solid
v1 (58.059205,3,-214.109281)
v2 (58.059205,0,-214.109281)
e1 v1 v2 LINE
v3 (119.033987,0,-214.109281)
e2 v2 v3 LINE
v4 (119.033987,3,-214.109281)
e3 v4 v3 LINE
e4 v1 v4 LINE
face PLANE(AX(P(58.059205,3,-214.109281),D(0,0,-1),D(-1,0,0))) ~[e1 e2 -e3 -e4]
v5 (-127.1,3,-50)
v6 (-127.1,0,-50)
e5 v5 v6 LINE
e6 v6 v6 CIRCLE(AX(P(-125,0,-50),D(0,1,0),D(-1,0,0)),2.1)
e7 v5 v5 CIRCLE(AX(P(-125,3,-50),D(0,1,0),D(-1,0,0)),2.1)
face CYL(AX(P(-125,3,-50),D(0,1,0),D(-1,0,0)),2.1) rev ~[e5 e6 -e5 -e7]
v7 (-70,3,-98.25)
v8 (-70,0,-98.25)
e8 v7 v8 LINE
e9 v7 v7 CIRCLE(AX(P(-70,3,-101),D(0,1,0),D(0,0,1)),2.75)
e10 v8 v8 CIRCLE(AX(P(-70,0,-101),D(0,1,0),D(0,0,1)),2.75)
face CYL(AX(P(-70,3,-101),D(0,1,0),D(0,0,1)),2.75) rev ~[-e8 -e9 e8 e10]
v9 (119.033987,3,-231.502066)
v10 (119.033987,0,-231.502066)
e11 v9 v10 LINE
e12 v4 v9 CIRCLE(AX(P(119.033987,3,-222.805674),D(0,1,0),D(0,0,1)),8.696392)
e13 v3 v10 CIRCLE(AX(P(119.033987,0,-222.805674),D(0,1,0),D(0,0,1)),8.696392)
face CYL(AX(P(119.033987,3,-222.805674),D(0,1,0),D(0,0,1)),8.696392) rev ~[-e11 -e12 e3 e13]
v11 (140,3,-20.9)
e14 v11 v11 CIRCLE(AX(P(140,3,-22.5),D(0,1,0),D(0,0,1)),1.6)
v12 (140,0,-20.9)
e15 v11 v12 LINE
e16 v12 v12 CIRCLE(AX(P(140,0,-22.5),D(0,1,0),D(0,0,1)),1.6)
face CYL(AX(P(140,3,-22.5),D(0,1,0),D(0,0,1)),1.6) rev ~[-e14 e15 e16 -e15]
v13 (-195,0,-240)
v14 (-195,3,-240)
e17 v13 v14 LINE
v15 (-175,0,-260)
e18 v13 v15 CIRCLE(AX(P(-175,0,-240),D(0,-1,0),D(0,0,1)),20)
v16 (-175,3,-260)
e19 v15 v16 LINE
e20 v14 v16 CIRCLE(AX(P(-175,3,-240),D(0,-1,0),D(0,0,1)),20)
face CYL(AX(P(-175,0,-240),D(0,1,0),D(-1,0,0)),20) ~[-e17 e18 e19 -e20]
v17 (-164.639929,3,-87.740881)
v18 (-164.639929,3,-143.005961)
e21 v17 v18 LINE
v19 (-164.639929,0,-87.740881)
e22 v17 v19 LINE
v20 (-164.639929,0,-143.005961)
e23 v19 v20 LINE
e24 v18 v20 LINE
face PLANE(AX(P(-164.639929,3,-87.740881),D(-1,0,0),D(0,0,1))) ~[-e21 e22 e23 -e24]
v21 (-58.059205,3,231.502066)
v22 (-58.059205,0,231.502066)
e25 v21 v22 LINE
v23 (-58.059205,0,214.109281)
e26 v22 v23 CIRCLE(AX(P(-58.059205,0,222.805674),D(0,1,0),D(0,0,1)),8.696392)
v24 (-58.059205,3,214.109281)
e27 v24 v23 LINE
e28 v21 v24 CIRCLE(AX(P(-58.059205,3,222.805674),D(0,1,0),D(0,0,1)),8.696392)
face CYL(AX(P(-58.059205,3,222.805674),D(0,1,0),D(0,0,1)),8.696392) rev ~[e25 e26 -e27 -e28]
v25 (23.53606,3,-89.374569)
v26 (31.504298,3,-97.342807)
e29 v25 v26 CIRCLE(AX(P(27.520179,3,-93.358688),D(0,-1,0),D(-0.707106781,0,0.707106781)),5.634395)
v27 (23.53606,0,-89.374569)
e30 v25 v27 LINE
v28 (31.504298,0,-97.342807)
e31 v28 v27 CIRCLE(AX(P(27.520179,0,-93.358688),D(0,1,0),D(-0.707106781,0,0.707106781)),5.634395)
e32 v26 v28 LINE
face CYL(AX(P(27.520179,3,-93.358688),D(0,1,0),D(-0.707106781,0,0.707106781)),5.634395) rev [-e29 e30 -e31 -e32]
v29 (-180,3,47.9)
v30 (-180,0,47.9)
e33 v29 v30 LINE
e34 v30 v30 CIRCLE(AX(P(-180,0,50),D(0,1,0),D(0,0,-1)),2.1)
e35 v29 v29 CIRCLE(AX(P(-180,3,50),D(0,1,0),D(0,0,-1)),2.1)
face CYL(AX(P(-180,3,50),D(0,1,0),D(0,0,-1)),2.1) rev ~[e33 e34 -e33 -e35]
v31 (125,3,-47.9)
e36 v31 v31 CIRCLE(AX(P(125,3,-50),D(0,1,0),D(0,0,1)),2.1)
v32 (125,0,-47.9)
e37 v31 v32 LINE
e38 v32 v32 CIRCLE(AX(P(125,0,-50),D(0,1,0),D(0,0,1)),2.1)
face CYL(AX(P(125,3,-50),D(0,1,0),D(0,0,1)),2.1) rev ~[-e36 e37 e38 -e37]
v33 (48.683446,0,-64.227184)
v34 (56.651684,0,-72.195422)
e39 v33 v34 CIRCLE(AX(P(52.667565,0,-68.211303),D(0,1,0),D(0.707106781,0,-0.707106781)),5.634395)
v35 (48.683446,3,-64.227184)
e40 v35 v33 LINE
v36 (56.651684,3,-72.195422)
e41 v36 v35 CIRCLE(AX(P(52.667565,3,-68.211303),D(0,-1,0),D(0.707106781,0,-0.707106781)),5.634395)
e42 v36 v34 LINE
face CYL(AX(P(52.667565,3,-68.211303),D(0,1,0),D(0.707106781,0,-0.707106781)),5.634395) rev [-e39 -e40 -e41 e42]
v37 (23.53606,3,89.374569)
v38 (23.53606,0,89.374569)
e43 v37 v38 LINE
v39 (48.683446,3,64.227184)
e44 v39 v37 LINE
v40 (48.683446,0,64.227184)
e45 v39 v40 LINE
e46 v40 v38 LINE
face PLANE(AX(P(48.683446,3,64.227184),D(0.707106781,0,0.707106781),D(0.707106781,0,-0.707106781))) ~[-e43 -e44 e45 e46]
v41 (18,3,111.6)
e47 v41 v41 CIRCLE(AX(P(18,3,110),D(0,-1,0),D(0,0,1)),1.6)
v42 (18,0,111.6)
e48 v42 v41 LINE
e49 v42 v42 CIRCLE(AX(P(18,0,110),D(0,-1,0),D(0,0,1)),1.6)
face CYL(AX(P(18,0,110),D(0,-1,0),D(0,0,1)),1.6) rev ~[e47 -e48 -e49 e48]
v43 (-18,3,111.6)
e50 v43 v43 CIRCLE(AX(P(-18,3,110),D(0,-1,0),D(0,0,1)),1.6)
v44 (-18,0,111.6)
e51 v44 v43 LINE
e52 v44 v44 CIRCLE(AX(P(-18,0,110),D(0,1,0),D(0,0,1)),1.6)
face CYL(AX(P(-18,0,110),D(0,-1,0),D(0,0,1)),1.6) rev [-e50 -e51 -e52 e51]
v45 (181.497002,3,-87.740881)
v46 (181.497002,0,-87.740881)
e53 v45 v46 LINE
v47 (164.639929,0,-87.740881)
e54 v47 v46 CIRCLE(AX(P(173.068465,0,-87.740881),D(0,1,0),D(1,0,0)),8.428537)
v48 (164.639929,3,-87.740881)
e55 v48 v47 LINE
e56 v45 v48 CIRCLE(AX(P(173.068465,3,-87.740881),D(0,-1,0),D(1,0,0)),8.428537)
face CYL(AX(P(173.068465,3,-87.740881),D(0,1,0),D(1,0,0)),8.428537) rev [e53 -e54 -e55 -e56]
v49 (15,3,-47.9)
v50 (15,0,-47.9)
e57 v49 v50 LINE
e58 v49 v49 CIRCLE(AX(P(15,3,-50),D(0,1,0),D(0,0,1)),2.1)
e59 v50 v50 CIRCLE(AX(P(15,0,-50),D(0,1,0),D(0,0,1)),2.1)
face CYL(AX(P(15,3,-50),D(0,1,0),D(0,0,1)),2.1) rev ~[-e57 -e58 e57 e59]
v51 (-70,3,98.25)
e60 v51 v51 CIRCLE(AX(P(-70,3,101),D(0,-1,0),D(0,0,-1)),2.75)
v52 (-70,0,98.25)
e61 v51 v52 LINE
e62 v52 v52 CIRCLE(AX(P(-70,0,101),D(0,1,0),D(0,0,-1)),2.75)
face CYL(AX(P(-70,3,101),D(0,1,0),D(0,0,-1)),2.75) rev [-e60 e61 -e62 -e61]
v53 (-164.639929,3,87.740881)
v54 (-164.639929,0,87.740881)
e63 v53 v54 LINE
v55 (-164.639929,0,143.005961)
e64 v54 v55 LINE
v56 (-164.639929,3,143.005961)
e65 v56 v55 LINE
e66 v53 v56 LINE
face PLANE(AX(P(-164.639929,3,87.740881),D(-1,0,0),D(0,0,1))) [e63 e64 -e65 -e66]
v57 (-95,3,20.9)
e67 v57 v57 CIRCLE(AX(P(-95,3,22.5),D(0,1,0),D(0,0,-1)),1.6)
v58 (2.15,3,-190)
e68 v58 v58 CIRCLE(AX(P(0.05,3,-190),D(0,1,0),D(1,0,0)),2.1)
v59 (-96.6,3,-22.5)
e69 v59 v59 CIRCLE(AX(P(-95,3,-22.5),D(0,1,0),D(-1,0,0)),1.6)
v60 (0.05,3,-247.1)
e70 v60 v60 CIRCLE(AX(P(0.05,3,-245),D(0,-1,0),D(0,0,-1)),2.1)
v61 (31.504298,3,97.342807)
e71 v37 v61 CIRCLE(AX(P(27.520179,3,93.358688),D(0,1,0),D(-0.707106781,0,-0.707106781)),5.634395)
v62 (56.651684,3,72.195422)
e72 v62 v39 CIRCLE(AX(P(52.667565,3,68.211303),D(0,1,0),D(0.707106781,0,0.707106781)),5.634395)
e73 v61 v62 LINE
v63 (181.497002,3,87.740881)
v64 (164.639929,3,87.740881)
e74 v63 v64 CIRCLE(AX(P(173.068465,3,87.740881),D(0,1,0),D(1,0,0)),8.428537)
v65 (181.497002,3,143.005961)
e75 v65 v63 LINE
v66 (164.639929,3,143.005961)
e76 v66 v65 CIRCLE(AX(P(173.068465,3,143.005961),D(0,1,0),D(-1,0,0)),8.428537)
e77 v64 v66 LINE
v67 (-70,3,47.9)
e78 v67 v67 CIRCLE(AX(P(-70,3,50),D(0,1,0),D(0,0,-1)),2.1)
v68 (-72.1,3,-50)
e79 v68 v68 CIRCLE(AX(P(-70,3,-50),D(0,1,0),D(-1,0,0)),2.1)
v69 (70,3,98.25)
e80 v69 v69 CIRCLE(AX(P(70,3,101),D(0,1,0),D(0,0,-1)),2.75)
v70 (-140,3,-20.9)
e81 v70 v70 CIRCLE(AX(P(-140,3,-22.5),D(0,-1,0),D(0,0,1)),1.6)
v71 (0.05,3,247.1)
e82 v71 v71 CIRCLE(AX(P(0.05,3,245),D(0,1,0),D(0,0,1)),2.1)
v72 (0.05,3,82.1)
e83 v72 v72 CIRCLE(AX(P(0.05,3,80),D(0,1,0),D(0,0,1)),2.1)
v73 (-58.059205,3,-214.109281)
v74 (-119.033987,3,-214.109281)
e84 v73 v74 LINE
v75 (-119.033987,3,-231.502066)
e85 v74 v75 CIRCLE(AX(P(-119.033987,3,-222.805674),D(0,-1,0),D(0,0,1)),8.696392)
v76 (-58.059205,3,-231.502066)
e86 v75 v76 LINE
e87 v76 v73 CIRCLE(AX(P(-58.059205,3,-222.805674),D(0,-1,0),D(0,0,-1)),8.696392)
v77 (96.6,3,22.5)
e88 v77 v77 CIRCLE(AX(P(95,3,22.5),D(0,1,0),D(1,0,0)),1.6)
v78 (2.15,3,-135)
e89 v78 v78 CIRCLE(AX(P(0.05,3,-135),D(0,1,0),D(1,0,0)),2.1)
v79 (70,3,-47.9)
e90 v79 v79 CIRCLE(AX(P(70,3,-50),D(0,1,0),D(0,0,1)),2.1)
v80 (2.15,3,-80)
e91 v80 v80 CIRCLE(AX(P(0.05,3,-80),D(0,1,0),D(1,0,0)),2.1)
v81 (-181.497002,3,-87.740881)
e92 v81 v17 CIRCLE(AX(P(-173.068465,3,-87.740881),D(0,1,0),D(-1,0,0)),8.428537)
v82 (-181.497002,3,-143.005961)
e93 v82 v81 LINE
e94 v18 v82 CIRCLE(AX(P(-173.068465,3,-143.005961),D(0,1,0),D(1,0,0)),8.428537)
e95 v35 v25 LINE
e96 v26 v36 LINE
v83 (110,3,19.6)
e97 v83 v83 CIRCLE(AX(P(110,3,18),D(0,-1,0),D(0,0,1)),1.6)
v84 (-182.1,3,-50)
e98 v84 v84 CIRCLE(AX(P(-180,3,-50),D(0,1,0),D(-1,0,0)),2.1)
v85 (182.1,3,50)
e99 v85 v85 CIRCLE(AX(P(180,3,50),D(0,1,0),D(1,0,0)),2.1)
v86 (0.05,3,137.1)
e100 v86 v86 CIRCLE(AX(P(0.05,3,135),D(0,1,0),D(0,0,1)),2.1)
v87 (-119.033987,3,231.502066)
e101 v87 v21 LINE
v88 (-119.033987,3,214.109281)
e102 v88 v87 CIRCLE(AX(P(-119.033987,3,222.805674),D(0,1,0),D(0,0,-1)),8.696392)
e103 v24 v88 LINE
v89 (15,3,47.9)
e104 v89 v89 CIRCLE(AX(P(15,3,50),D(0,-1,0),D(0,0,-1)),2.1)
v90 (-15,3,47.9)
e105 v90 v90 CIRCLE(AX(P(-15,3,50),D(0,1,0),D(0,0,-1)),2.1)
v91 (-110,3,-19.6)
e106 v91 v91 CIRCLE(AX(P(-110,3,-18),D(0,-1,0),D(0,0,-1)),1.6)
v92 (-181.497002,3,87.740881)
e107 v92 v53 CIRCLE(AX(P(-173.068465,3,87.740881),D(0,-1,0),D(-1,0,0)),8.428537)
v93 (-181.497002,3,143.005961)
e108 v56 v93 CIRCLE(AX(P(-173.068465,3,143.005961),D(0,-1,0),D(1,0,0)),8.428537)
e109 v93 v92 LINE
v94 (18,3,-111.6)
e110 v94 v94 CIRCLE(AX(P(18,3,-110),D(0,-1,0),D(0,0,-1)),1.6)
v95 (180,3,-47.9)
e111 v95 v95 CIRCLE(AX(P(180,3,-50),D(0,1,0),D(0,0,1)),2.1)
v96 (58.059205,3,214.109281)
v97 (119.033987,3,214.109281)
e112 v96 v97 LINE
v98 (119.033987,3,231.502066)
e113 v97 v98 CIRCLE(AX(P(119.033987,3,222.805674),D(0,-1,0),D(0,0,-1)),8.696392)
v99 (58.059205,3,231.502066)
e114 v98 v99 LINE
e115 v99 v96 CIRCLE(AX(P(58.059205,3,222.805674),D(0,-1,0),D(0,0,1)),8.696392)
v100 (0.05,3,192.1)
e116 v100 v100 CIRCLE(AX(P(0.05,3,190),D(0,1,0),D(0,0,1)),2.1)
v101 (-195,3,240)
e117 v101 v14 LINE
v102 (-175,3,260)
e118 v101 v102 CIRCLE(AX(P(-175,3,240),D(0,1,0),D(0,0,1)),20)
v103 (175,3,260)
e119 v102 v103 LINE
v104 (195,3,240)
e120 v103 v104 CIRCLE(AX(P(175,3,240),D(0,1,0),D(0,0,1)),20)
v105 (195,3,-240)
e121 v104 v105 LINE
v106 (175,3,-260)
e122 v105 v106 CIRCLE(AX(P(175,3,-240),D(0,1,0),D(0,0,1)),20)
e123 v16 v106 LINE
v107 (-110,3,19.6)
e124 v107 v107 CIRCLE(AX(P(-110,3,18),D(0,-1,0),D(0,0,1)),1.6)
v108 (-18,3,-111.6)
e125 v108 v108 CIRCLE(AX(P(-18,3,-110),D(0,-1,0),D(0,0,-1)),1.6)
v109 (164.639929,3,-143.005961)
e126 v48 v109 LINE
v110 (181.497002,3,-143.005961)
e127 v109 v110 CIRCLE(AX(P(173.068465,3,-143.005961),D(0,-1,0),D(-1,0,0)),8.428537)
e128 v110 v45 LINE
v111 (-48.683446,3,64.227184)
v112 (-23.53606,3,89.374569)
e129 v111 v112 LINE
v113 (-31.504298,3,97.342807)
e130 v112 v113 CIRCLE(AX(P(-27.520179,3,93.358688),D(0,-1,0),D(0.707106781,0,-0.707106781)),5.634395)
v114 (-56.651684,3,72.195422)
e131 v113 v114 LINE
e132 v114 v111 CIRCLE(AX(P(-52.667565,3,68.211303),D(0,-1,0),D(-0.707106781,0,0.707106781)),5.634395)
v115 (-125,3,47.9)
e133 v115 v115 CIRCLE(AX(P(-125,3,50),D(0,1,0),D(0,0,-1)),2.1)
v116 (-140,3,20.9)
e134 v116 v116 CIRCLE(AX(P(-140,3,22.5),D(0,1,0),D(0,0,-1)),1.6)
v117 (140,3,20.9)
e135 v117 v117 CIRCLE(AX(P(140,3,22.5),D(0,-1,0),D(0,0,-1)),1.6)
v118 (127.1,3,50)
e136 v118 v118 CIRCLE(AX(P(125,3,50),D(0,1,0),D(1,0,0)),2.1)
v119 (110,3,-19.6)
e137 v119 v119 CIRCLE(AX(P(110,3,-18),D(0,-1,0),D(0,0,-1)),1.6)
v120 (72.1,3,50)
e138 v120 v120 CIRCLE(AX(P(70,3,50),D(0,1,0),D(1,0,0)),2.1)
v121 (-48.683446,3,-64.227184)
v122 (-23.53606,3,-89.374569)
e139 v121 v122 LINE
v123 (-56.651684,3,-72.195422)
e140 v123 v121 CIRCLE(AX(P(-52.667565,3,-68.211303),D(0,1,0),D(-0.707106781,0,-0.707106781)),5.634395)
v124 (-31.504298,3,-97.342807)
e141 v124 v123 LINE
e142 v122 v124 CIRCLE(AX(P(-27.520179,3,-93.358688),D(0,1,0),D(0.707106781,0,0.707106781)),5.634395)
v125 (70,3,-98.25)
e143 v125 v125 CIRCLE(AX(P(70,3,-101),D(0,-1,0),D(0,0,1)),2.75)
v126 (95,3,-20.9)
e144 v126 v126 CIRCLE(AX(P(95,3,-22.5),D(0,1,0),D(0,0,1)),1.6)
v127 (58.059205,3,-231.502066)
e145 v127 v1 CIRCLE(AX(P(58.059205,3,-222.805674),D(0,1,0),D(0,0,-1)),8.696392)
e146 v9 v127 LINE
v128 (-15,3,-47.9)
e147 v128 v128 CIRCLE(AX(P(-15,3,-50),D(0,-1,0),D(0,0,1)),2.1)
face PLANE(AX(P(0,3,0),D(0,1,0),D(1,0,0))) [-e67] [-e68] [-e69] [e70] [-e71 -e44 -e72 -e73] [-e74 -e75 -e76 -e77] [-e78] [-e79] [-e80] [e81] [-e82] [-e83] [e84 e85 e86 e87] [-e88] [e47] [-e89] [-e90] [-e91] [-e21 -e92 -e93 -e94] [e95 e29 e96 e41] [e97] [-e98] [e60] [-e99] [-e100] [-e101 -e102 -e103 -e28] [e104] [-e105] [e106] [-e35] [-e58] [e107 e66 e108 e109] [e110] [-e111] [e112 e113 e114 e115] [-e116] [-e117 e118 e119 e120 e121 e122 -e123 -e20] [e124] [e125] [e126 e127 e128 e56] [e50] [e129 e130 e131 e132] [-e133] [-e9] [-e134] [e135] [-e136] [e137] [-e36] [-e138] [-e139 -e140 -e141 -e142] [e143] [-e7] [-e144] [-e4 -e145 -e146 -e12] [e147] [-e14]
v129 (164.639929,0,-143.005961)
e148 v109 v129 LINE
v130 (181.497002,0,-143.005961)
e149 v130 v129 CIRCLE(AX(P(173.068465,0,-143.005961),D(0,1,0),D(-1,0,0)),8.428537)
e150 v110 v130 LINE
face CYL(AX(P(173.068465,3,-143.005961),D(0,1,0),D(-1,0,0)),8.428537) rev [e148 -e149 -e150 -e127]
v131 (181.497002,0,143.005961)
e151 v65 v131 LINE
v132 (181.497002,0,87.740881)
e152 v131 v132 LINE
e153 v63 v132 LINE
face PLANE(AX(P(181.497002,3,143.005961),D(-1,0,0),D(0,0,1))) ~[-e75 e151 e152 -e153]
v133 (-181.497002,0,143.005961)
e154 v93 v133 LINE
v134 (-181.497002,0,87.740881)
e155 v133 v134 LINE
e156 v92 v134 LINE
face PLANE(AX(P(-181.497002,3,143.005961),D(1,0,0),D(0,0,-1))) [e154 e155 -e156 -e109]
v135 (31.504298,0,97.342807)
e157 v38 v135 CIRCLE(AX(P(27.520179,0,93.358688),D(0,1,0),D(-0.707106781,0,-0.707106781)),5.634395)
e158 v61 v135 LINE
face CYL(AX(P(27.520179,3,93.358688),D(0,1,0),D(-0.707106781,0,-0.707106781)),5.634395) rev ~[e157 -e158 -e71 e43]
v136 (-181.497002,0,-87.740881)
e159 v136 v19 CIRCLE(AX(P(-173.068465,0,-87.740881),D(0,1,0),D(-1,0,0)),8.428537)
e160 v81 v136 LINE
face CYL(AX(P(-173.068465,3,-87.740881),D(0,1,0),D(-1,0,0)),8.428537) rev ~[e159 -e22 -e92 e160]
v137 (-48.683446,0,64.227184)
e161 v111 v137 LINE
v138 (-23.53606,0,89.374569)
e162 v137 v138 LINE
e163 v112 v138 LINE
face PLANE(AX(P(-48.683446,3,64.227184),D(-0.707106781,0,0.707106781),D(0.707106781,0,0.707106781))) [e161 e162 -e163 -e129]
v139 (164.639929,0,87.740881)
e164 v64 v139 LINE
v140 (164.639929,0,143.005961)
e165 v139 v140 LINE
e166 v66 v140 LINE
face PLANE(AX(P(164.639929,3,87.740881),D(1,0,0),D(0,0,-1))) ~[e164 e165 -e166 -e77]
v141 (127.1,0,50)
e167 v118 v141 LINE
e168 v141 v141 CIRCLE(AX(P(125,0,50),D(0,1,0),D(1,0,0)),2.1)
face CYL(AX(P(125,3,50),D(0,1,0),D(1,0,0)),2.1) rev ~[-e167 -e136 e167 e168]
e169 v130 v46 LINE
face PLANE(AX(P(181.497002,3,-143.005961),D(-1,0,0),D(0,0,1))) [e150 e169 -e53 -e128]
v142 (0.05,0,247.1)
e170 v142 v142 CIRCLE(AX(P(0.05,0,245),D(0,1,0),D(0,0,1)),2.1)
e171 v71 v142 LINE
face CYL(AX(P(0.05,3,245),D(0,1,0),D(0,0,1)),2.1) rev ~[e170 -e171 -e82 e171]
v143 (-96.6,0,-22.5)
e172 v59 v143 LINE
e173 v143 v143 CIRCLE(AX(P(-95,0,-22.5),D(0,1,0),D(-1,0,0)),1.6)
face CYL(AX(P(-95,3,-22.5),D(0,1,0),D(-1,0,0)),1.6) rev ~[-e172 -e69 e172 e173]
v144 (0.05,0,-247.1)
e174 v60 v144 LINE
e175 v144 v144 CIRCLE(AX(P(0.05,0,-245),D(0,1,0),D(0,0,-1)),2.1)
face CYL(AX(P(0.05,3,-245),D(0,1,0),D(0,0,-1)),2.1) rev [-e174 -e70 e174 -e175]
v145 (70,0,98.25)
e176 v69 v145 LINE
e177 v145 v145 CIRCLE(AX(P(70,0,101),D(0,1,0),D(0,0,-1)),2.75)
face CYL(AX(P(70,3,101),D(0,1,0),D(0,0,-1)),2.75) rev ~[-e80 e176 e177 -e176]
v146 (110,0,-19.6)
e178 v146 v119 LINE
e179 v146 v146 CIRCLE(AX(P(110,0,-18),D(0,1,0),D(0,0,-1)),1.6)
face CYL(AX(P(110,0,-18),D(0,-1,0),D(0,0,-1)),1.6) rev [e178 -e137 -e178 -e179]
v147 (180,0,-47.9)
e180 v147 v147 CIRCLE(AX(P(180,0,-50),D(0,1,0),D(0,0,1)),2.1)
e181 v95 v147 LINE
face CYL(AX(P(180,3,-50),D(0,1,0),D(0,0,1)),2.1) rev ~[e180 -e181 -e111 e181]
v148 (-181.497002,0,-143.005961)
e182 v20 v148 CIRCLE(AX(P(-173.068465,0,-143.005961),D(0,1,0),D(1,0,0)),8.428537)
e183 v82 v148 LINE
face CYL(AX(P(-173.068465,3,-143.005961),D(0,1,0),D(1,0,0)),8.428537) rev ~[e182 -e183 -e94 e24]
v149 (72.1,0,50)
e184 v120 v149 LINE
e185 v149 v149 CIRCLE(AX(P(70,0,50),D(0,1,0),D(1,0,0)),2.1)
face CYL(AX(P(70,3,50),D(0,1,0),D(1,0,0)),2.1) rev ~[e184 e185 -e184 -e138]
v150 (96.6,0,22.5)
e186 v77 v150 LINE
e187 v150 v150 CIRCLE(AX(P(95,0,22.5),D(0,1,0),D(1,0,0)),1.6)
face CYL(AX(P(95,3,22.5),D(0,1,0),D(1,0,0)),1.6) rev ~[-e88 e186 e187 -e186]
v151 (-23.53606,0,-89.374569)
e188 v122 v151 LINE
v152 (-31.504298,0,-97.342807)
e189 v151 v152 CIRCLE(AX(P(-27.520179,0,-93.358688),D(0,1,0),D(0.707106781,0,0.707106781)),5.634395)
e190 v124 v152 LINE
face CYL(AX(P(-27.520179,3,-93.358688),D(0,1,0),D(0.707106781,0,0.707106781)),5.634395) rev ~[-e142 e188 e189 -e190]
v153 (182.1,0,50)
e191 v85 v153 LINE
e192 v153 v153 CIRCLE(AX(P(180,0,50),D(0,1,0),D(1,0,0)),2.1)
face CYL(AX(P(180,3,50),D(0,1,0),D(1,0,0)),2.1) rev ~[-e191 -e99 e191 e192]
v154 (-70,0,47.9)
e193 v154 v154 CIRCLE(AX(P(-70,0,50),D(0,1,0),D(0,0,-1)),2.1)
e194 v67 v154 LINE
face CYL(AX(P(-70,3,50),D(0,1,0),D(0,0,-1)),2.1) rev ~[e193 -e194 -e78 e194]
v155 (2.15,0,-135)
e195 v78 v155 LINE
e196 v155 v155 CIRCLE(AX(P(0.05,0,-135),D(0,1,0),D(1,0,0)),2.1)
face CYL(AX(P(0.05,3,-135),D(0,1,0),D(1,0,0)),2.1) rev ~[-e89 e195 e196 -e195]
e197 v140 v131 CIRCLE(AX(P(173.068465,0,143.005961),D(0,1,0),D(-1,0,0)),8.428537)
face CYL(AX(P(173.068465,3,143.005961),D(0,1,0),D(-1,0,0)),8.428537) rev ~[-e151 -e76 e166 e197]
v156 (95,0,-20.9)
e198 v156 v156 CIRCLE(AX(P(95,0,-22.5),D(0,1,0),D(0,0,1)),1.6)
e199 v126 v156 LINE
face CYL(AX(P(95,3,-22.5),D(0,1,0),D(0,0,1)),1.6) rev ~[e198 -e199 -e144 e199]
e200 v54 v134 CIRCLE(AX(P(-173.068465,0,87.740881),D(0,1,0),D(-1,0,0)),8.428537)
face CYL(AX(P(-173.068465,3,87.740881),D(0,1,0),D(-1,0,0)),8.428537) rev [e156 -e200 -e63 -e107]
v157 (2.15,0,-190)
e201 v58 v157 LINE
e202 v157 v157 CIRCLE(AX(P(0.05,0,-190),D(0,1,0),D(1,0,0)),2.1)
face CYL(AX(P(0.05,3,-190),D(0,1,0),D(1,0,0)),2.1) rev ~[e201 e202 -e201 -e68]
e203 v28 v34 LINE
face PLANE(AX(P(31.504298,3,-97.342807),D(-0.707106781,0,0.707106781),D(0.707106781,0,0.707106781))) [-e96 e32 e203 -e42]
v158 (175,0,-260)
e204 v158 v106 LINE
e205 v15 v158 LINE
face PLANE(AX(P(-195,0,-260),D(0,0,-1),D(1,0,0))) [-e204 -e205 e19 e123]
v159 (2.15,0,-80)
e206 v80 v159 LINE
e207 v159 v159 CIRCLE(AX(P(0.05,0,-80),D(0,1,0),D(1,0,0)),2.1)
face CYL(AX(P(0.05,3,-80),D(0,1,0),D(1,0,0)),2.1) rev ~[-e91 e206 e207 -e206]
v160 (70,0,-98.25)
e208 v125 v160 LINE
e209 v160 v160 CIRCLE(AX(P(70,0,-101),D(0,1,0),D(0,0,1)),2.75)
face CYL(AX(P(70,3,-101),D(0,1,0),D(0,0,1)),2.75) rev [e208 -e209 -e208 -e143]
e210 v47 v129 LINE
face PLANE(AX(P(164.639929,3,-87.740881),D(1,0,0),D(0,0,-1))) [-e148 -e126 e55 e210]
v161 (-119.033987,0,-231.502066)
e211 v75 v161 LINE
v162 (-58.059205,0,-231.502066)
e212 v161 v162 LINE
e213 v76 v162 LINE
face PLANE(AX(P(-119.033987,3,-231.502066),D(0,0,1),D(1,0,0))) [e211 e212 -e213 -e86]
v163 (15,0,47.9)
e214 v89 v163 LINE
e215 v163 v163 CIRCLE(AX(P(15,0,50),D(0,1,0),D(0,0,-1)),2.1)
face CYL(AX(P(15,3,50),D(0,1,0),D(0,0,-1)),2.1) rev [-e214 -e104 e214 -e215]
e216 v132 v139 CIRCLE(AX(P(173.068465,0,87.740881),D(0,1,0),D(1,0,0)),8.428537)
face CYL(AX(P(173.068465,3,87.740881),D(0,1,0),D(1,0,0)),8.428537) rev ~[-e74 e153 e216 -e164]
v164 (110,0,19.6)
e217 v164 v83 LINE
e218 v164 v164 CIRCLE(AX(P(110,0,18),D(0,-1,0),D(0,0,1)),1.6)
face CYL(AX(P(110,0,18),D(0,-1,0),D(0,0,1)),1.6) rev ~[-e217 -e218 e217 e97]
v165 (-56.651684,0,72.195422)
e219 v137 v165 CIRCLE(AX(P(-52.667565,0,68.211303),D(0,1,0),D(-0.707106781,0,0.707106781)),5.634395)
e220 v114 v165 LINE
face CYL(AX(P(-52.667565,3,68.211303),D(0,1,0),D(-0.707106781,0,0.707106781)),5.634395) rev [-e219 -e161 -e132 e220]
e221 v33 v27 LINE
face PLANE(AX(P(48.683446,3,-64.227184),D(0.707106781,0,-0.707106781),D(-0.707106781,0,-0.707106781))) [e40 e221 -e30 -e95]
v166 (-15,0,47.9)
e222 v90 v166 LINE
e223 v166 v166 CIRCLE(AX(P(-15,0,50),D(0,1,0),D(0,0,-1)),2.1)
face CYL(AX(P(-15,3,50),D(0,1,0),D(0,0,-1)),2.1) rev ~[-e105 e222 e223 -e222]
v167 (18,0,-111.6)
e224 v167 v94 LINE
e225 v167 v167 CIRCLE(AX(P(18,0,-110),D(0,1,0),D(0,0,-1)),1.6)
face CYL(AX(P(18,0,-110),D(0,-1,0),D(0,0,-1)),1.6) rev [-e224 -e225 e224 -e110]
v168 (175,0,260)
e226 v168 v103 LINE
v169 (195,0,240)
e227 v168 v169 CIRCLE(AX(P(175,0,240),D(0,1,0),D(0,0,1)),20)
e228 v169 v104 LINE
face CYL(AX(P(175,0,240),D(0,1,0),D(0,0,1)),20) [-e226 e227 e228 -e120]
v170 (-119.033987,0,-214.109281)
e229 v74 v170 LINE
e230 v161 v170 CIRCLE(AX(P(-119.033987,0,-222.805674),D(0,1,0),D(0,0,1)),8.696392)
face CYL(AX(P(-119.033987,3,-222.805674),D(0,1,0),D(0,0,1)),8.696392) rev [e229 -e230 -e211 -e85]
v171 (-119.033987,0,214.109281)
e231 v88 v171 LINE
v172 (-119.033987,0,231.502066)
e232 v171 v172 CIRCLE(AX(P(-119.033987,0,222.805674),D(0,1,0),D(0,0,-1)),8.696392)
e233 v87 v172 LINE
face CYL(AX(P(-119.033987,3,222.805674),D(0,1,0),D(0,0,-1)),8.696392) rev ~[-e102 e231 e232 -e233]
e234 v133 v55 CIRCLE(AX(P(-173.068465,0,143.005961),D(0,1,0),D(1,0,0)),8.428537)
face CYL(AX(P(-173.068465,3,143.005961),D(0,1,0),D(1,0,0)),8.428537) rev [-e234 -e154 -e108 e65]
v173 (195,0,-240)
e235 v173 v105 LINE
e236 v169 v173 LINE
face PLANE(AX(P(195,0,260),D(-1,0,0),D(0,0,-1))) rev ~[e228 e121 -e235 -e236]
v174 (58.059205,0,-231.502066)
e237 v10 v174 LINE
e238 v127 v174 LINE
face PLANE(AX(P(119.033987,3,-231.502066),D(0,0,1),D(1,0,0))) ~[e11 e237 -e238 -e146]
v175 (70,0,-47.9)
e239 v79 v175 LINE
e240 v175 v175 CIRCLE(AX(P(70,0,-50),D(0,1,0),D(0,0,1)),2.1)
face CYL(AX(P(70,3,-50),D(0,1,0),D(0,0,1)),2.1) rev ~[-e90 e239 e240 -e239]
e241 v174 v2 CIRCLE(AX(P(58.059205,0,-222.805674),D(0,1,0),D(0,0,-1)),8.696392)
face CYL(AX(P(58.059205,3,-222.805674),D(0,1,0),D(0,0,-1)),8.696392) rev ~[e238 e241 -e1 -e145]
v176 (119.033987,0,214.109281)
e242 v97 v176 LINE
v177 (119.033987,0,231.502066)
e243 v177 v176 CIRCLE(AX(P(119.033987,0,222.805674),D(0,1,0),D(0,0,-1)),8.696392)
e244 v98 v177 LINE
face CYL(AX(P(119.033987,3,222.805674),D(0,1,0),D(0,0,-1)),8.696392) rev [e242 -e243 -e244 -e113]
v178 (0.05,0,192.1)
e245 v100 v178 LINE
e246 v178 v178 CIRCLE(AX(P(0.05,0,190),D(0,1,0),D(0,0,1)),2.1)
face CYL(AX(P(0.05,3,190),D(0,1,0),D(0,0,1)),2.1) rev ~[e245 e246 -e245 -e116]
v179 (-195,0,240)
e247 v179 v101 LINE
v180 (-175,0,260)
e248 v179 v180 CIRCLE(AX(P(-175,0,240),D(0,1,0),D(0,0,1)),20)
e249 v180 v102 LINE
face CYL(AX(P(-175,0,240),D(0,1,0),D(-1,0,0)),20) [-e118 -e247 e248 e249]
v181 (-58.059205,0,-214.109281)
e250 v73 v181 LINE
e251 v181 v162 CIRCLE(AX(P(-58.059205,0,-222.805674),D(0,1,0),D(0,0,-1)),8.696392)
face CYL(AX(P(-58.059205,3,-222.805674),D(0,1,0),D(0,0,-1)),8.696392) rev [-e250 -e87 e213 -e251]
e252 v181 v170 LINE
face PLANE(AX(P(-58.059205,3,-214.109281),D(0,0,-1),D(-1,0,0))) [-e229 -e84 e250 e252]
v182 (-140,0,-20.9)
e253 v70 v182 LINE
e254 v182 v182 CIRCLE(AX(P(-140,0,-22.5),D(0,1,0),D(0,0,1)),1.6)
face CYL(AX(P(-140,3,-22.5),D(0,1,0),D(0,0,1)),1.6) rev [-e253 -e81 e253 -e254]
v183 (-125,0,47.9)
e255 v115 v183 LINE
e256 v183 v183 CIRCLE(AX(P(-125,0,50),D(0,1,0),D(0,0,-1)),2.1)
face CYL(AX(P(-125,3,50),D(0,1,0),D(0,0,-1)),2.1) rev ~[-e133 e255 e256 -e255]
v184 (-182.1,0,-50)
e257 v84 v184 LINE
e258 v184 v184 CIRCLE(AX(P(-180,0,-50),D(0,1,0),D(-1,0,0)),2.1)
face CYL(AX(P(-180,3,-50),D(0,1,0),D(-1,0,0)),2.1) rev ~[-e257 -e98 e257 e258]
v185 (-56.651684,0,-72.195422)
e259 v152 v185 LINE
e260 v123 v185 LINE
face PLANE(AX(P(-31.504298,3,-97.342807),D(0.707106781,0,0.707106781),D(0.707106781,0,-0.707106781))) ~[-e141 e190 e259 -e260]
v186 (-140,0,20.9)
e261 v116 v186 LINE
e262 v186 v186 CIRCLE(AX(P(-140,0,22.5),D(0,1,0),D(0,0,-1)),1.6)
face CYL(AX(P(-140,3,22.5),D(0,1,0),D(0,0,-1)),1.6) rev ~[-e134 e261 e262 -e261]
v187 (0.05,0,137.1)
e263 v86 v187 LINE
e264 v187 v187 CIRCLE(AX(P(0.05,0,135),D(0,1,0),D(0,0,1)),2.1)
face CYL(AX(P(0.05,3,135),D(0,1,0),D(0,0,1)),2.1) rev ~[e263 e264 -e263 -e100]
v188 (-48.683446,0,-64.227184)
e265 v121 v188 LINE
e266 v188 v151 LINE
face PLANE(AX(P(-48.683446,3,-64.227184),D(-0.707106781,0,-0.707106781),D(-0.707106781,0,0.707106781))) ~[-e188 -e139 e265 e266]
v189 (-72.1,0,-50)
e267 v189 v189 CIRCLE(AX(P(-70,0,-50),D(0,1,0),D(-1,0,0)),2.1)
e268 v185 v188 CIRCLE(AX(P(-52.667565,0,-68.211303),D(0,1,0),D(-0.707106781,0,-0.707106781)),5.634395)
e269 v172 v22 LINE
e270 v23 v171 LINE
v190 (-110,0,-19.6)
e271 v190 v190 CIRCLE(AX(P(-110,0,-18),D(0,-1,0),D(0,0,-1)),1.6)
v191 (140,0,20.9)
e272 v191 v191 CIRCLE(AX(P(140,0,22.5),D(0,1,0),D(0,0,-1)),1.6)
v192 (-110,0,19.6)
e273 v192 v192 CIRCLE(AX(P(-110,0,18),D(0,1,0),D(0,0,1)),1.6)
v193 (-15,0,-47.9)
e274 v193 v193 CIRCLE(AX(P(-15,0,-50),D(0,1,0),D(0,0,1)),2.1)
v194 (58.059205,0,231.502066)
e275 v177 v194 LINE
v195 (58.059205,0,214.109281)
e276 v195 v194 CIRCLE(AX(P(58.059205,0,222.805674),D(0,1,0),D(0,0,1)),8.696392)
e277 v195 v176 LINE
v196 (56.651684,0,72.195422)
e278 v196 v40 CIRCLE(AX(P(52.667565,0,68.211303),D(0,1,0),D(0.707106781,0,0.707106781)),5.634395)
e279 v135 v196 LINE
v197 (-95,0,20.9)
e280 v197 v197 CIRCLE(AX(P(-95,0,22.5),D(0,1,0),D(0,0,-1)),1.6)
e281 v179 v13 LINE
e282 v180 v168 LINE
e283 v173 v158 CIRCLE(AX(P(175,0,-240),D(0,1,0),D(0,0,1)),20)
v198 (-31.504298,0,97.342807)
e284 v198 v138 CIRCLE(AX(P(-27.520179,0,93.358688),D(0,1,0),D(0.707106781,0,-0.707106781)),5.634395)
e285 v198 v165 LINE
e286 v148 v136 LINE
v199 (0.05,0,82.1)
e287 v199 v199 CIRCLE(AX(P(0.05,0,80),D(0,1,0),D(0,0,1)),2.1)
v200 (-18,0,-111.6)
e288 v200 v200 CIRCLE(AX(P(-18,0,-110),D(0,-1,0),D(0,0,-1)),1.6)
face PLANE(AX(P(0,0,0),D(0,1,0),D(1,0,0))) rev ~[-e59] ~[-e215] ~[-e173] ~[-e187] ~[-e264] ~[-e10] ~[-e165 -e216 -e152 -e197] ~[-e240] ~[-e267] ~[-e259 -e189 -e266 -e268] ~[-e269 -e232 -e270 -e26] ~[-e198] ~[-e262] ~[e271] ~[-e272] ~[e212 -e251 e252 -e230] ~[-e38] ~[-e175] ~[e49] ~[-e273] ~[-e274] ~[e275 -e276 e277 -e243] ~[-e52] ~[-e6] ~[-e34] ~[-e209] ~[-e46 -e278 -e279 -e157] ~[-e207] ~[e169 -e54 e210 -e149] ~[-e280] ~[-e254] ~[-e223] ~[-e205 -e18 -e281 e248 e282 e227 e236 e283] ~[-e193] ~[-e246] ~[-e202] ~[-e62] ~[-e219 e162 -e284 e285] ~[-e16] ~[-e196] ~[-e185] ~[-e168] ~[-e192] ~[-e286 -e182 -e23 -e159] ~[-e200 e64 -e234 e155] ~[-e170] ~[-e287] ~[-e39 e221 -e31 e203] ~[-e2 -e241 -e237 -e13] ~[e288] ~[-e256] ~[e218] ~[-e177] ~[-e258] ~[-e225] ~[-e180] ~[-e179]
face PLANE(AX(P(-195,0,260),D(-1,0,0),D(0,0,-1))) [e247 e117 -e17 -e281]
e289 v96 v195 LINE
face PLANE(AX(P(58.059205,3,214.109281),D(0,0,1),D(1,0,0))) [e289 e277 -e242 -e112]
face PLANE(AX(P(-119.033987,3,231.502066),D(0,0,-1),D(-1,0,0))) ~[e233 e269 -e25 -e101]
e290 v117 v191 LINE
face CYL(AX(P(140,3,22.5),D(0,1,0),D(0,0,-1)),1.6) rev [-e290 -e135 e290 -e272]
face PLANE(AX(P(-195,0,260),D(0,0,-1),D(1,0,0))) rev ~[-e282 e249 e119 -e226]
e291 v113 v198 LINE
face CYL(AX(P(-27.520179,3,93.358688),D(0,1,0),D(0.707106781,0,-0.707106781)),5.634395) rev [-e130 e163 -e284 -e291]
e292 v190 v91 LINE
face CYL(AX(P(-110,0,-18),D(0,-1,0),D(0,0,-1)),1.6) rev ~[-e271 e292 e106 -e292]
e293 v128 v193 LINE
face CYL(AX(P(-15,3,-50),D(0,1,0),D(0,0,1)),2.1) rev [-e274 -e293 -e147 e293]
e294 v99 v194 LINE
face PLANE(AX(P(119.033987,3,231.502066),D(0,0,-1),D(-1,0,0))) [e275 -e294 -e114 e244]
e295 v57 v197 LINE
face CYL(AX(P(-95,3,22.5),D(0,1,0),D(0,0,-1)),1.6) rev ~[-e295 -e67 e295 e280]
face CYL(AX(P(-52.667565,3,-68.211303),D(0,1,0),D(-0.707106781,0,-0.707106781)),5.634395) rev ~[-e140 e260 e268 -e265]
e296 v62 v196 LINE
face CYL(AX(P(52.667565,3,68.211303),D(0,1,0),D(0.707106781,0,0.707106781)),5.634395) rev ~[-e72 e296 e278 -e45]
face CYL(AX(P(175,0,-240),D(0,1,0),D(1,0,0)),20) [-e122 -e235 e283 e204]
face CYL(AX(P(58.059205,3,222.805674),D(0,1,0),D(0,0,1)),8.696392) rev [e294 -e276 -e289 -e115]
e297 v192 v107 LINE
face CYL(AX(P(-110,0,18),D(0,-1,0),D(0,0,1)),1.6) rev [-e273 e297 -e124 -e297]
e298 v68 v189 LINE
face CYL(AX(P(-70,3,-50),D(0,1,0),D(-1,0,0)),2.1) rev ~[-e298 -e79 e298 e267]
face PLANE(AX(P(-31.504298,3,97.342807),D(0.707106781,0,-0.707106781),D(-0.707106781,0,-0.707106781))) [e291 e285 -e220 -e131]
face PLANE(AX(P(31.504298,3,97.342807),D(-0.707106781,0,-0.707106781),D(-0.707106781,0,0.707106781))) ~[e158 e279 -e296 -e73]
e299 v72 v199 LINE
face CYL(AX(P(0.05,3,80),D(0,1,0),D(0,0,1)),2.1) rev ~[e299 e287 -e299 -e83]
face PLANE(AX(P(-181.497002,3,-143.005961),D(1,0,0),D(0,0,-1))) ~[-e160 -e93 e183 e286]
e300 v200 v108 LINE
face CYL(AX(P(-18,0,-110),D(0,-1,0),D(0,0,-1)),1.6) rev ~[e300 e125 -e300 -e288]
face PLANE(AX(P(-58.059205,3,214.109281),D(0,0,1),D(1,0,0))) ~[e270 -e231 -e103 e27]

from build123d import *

# Parameters (mm, degrees)
SKETCH_2_W                = 390
SKETCH_2_H                = 520
EXTRUDE_1_DEPTH           = 3
FILLET_1_R                = 20
SKETCH_9_R                = 2.1
CUT_EXTRUDE_3_DEPTH       = 10
PATTERN_LINEAR_3_COUNT    = 4
PATTERN_LINEAR_3_PITCH    = 55
MIRROR_2_COPY_1_SKETCH_R  = 2.1
MIRROR_2_COPY_1_DEPTH     = 10
MIRROR_2_COPY_2_SKETCH_R  = 2.1
MIRROR_2_COPY_2_DEPTH     = 10
MIRROR_2_COPY_3_SKETCH_R  = 2.1
MIRROR_2_COPY_3_DEPTH     = 10
MIRROR_3_COPY_1_SKETCH_R  = 2.1
MIRROR_3_COPY_1_DEPTH     = 10
MIRROR_3_COPY_2_SKETCH_R  = 2.1
MIRROR_3_COPY_2_DEPTH     = 10
MIRROR_3_COPY_3_SKETCH_R  = 2.1
MIRROR_3_COPY_3_DEPTH     = 10
MIRROR_3_COPY_4_SKETCH_R  = 2.1
MIRROR_3_COPY_4_DEPTH     = 10
MIRROR_3_COPY_5_SKETCH_R  = 2.1
MIRROR_3_COPY_5_DEPTH     = 10
MIRROR_3_COPY_6_SKETCH_R  = 2.1
MIRROR_3_COPY_6_DEPTH     = 10
MIRROR_3_COPY_7_SKETCH_R  = 2.1
MIRROR_3_COPY_7_DEPTH     = 10
SKETCH_11_R               = 2.1
CUT_EXTRUDE_4_DEPTH       = 326.013845859
PATTERN_LINEAR_4_COUNT    = 4
PATTERN_LINEAR_4_PITCH    = 55
MIRROR_4_COPY_1_SKETCH_R  = 2.1
MIRROR_4_COPY_1_DEPTH     = 326.013845859
MIRROR_4_COPY_2_SKETCH_R  = 2.1
MIRROR_4_COPY_2_DEPTH     = 326.013845859
MIRROR_4_COPY_3_SKETCH_R  = 2.1
MIRROR_4_COPY_3_DEPTH     = 326.013845859
CUT_EXTRUDE_6_DEPTH       = 326.013845859
MIRROR_11_COPY_1_DEPTH    = 326.013845859
SKETCH_16_R               = 1.6
CUT_EXTRUDE_7_DEPTH       = 326.013845859
PATTERN_LINEAR_5_COUNT    = 2
PATTERN_LINEAR_5_PITCH    = 45
MIRROR_12_COPY_1_SKETCH_R = 1.6
MIRROR_12_COPY_1_DEPTH    = 326.013845859
MIRROR_13_COPY_1_SKETCH_R = 1.6
MIRROR_13_COPY_1_DEPTH    = 326.013845859
MIRROR_13_COPY_2_SKETCH_R = 1.6
MIRROR_13_COPY_2_DEPTH    = 326.013845859
MIRROR_13_COPY_3_SKETCH_R = 1.6
MIRROR_13_COPY_3_DEPTH    = 326.013845859
CUT_EXTRUDE_13_DEPTH      = 10
MIRROR_15_COPY_1_DEPTH    = 10
SKETCH_18_R               = 2.75
CUT_EXTRUDE_14_DEPTH      = 326.013845859
MIRROR_17_COPY_1_SKETCH_R = 2.75
MIRROR_17_COPY_1_DEPTH    = 326.013845859
CUT_EXTRUDE_15_DEPTH      = 326.013845859
MIRROR_19_COPY_1_DEPTH    = 326.013845859
SKETCH_20_R               = 1.6
CUT_EXTRUDE_16_DEPTH      = 326.013845859
MIRROR_21_COPY_1_SKETCH_R = 1.6
MIRROR_21_COPY_1_DEPTH    = 326.013845859
SKETCH_21_R               = 1.6
CUT_EXTRUDE_17_DEPTH      = 326.013845859
MIRROR_23_COPY_1_SKETCH_R = 1.6
MIRROR_23_COPY_1_DEPTH    = 326.013845859


with BuildPart() as part:
    # 草图2 → 凸台-拉伸1 (new body)
    with BuildSketch(Plane(origin=(0, 0, 0), x_dir=(1, 0, 0), z_dir=(0, 1, 0))):
        Rectangle(SKETCH_2_W, SKETCH_2_H)
    extrude(amount=EXTRUDE_1_DEPTH)

    # 圆角1
    fillet_1_edges = [part.edges().sort_by_distance(p)[0] for p in [
        (195, 1.5, 260),
        (-195, 1.5, 260),
        (-195, 1.5, -260),
        (195, 1.5, -260),
    ]]
    fillet(fillet_1_edges, radius=FILLET_1_R)

    # 草图9 → 切除-拉伸3 (cut)
    with BuildSketch(Plane(origin=(0, 3, 0), x_dir=(1, 0, 0), z_dir=(0, 1, 0))):
        with Locations(Location((15, 50, 0), (0, 0, 270))):
            Circle(SKETCH_9_R)
    cut_extrude_3 = extrude(amount=-CUT_EXTRUDE_3_DEPTH, mode=Mode.SUBTRACT)

    # 阵列(线性)3: 切除-拉伸3 ×4
    with Locations(*[(i * PATTERN_LINEAR_3_PITCH, 0, 0) for i in range(1, PATTERN_LINEAR_3_COUNT)]):
        add(cut_extrude_3, mode=Mode.SUBTRACT)

    # 镜向2: 切除-拉伸3 across plane
    add(cut_extrude_3.mirror(Plane(origin=(0, 0, 0), x_dir=(0, 0, 1), z_dir=(1, 0, 0))), mode=Mode.SUBTRACT)

    # 镜向2 copy 1 sketch → 镜向2 copy 1 (cut)
    with BuildSketch(Plane(origin=(-55, 3, 0), x_dir=(-1, 0, 0), z_dir=(0, 1, 0))):
        with Locations((15, -50)):
            Circle(MIRROR_2_COPY_1_SKETCH_R)
    extrude(amount=-MIRROR_2_COPY_1_DEPTH, mode=Mode.SUBTRACT)

    # 镜向2 copy 2 sketch → 镜向2 copy 2 (cut)
    with BuildSketch(Plane(origin=(-110, 3, 0), x_dir=(-1, 0, 0), z_dir=(0, 1, 0))):
        with Locations((15, -50)):
            Circle(MIRROR_2_COPY_2_SKETCH_R)
    extrude(amount=-MIRROR_2_COPY_2_DEPTH, mode=Mode.SUBTRACT)

    # 镜向2 copy 3 sketch → 镜向2 copy 3 (cut)
    with BuildSketch(Plane(origin=(-165, 3, 0), x_dir=(-1, 0, 0), z_dir=(0, 1, 0))):
        with Locations((15, -50)):
            Circle(MIRROR_2_COPY_3_SKETCH_R)
    extrude(amount=-MIRROR_2_COPY_3_DEPTH, mode=Mode.SUBTRACT)

    # 镜向3: 切除-拉伸3 across plane
    add(cut_extrude_3.mirror(Plane(origin=(0, 0, 0), x_dir=(1, 0, 0), z_dir=(0, 0, -1))), mode=Mode.SUBTRACT)

    # 镜向3 copy 1 sketch → 镜向3 copy 1 (cut)
    with BuildSketch(Plane(origin=(55, 3, 0), x_dir=(1, 0, 0), z_dir=(0, 1, 0))):
        with Locations((15, -50)):
            Circle(MIRROR_3_COPY_1_SKETCH_R)
    extrude(amount=-MIRROR_3_COPY_1_DEPTH, mode=Mode.SUBTRACT)

    # 镜向3 copy 2 sketch → 镜向3 copy 2 (cut)
    with BuildSketch(Plane(origin=(110, 3, 0), x_dir=(1, 0, 0), z_dir=(0, 1, 0))):
        with Locations((15, -50)):
            Circle(MIRROR_3_COPY_2_SKETCH_R)
    extrude(amount=-MIRROR_3_COPY_2_DEPTH, mode=Mode.SUBTRACT)

    # 镜向3 copy 3 sketch → 镜向3 copy 3 (cut)
    with BuildSketch(Plane(origin=(165, 3, 0), x_dir=(1, 0, 0), z_dir=(0, 1, 0))):
        with Locations((15, -50)):
            Circle(MIRROR_3_COPY_3_SKETCH_R)
    extrude(amount=-MIRROR_3_COPY_3_DEPTH, mode=Mode.SUBTRACT)

    # 镜向3 copy 4 sketch → 镜向3 copy 4 (cut)
    with BuildSketch(Plane(origin=(0, 3, 0), x_dir=(-1, 0, 0), z_dir=(0, 1, 0))):
        with Locations(Location((15, 50, 0), (0, 0, 270))):
            Circle(MIRROR_3_COPY_4_SKETCH_R)
    extrude(amount=-MIRROR_3_COPY_4_DEPTH, mode=Mode.SUBTRACT)

    # 镜向3 copy 5 sketch → 镜向3 copy 5 (cut)
    with BuildSketch(Plane(origin=(-55, 3, 0), x_dir=(-1, 0, 0), z_dir=(0, 1, 0))):
        with Locations(Location((15, 50, 0), (0, 0, 270))):
            Circle(MIRROR_3_COPY_5_SKETCH_R)
    extrude(amount=-MIRROR_3_COPY_5_DEPTH, mode=Mode.SUBTRACT)

    # 镜向3 copy 6 sketch → 镜向3 copy 6 (cut)
    with BuildSketch(Plane(origin=(-110, 3, 0), x_dir=(-1, 0, 0), z_dir=(0, 1, 0))):
        with Locations(Location((15, 50, 0), (0, 0, 270))):
            Circle(MIRROR_3_COPY_6_SKETCH_R)
    extrude(amount=-MIRROR_3_COPY_6_DEPTH, mode=Mode.SUBTRACT)

    # 镜向3 copy 7 sketch → 镜向3 copy 7 (cut)
    with BuildSketch(Plane(origin=(-165, 3, 0), x_dir=(-1, 0, 0), z_dir=(0, 1, 0))):
        with Locations(Location((15, 50, 0), (0, 0, 270))):
            Circle(MIRROR_3_COPY_7_SKETCH_R)
    extrude(amount=-MIRROR_3_COPY_7_DEPTH, mode=Mode.SUBTRACT)

    # 草图11 → 切除-拉伸4 (cut, through all)
    with BuildSketch(Plane(origin=(0, 3, 0), x_dir=(1, 0, 0), z_dir=(0, 1, 0))):
        with Locations(Location((0.05, -245, 0), (0, 0, 270))):
            Circle(SKETCH_11_R)
    cut_extrude_4 = extrude(amount=-CUT_EXTRUDE_4_DEPTH, mode=Mode.SUBTRACT)

    # 阵列(线性)4: 切除-拉伸4 ×4
    with Locations(*[(0, 0, -i * PATTERN_LINEAR_4_PITCH) for i in range(1, PATTERN_LINEAR_4_COUNT)]):
        add(cut_extrude_4, mode=Mode.SUBTRACT)

    # 镜向4: 切除-拉伸4 across plane
    add(cut_extrude_4.mirror(Plane(origin=(0, 0, 0), x_dir=(1, 0, 0), z_dir=(0, 0, -1))), mode=Mode.SUBTRACT)

    # 镜向4 copy 1 sketch → 镜向4 copy 1 (cut, through all)
    with BuildSketch(Plane(origin=(0, 3, 55), x_dir=(1, 0, 0), z_dir=(0, 1, 0))):
        with Locations((0.05, 245)):
            Circle(MIRROR_4_COPY_1_SKETCH_R)
    extrude(amount=-MIRROR_4_COPY_1_DEPTH, mode=Mode.SUBTRACT)

    # 镜向4 copy 2 sketch → 镜向4 copy 2 (cut, through all)
    with BuildSketch(Plane(origin=(0, 3, 110), x_dir=(1, 0, 0), z_dir=(0, 1, 0))):
        with Locations((0.05, 245)):
            Circle(MIRROR_4_COPY_2_SKETCH_R)
    extrude(amount=-MIRROR_4_COPY_2_DEPTH, mode=Mode.SUBTRACT)

    # 镜向4 copy 3 sketch → 镜向4 copy 3 (cut, through all)
    with BuildSketch(Plane(origin=(0, 3, 165), x_dir=(1, 0, 0), z_dir=(0, 1, 0))):
        with Locations((0.05, 245)):
            Circle(MIRROR_4_COPY_3_SKETCH_R)
    extrude(amount=-MIRROR_4_COPY_3_DEPTH, mode=Mode.SUBTRACT)

    # 草图15 → 切除-拉伸6 (cut, through all)
    with BuildSketch(Plane(origin=(0, 3, 0), x_dir=(1, 0, 0), z_dir=(0, 1, 0))):
        with BuildLine():
            Line((164.639928954, 87.740880958), (164.639928954, 143.005961121))
            ThreePointArc((164.639928954, 143.005961121), (173.068465489, 151.434497656), (181.497002024, 143.005961121))
            Line((181.497002024, 143.005961121), (181.497002024, 87.740880958))
            ThreePointArc((181.497002024, 87.740880958), (173.068465489, 79.312344423), (164.639928954, 87.740880958))
        make_face()
    cut_extrude_6 = extrude(amount=-CUT_EXTRUDE_6_DEPTH, mode=Mode.SUBTRACT)

    # 镜向10: 切除-拉伸6 across plane
    add(cut_extrude_6.mirror(Plane(origin=(0, 0, 0), x_dir=(0, 0, 1), z_dir=(1, 0, 0))), mode=Mode.SUBTRACT)

    # 镜向11: 切除-拉伸6 across plane
    add(cut_extrude_6.mirror(Plane(origin=(0, 0, 0), x_dir=(1, 0, 0), z_dir=(0, 0, -1))), mode=Mode.SUBTRACT)

    # 镜向11 copy 1 sketch → 镜向11 copy 1 (cut, through all)
    with BuildSketch(Plane(origin=(0, 3, 0), x_dir=(-1, 0, 0), z_dir=(0, 1, 0))):
        with BuildLine():
            Line((164.639928954, 87.740880958), (164.639928954, 143.005961121))
            ThreePointArc((164.639928954, 143.005961121), (173.068465489, 151.434497656), (181.497002024, 143.005961121))
            Line((181.497002024, 143.005961121), (181.497002024, 87.740880958))
            ThreePointArc((181.497002024, 87.740880958), (173.068465489, 79.312344423), (164.639928954, 87.740880958))
        make_face()
    extrude(amount=-MIRROR_11_COPY_1_DEPTH, mode=Mode.SUBTRACT)

    # 草图16 → 切除-拉伸7 (cut, through all)
    with BuildSketch(Plane(origin=(0, 3, 0), x_dir=(1, 0, 0), z_dir=(0, 1, 0))):
        with Locations(Location((140, 22.5, 0), (0, 0, 270))):
            Circle(SKETCH_16_R)
    cut_extrude_7 = extrude(amount=-CUT_EXTRUDE_7_DEPTH, mode=Mode.SUBTRACT)

    # 阵列(线性)5: 切除-拉伸7 ×2
    with Locations(*[(-i * PATTERN_LINEAR_5_PITCH, 0, 0) for i in range(1, PATTERN_LINEAR_5_COUNT)]):
        add(cut_extrude_7, mode=Mode.SUBTRACT)

    # 镜向12: 切除-拉伸7 across plane
    add(cut_extrude_7.mirror(Plane(origin=(0, 0, 0), x_dir=(1, 0, 0), z_dir=(0, 0, -1))), mode=Mode.SUBTRACT)

    # 镜向12 copy 1 sketch → 镜向12 copy 1 (cut, through all)
    with BuildSketch(Plane(origin=(-45, 3, 0), x_dir=(1, 0, 0), z_dir=(0, 1, 0))):
        with Locations((140, -22.5)):
            Circle(MIRROR_12_COPY_1_SKETCH_R)
    extrude(amount=-MIRROR_12_COPY_1_DEPTH, mode=Mode.SUBTRACT)

    # 镜向13: 切除-拉伸7 across plane
    add(cut_extrude_7.mirror(Plane(origin=(0, 0, 0), x_dir=(0, 0, 1), z_dir=(1, 0, 0))), mode=Mode.SUBTRACT)

    # 镜向13 copy 1 sketch → 镜向13 copy 1 (cut, through all)
    with BuildSketch(Plane(origin=(45, 3, 0), x_dir=(-1, 0, 0), z_dir=(0, 1, 0))):
        with Locations((140, -22.5)):
            Circle(MIRROR_13_COPY_1_SKETCH_R)
    extrude(amount=-MIRROR_13_COPY_1_DEPTH, mode=Mode.SUBTRACT)

    # 镜向13 copy 2 sketch → 镜向13 copy 2 (cut, through all)
    with BuildSketch(Plane(origin=(0, 3, 0), x_dir=(-1, 0, 0), z_dir=(0, 1, 0))):
        with Locations(Location((140, 22.5, 0), (0, 0, 270))):
            Circle(MIRROR_13_COPY_2_SKETCH_R)
    extrude(amount=-MIRROR_13_COPY_2_DEPTH, mode=Mode.SUBTRACT)

    # 镜向13 copy 3 sketch → 镜向13 copy 3 (cut, through all)
    with BuildSketch(Plane(origin=(45, 3, 0), x_dir=(-1, 0, 0), z_dir=(0, 1, 0))):
        with Locations(Location((140, 22.5, 0), (0, 0, 270))):
            Circle(MIRROR_13_COPY_3_SKETCH_R)
    extrude(amount=-MIRROR_13_COPY_3_DEPTH, mode=Mode.SUBTRACT)

    # 草图17 → 切除-拉伸13 (cut)
    with BuildSketch(Plane(origin=(0, 3, 0), x_dir=(1, 0, 0), z_dir=(0, 1, 0))):
        with BuildLine():
            Line((31.504298158, 97.342807331), (56.651683754, 72.195421735))
            ThreePointArc((56.651683754, 72.195421735), (56.651683754, 64.227183811), (48.68344583, 64.227183811))
            Line((48.68344583, 64.227183811), (23.536060234, 89.374569407))
            ThreePointArc((23.536060234, 89.374569407), (23.536060234, 97.342807331), (31.504298158, 97.342807331))
        make_face()
    cut_extrude_13 = extrude(amount=-CUT_EXTRUDE_13_DEPTH, mode=Mode.SUBTRACT)

    # 镜向14: 切除-拉伸13 across plane
    add(cut_extrude_13.mirror(Plane(origin=(0, 0, 0), x_dir=(1, 0, 0), z_dir=(0, 0, -1))), mode=Mode.SUBTRACT)

    # 镜向15: 切除-拉伸13 across plane
    add(cut_extrude_13.mirror(Plane(origin=(0, 0, 0), x_dir=(0, 0, 1), z_dir=(1, 0, 0))), mode=Mode.SUBTRACT)

    # 镜向15 copy 1 sketch → 镜向15 copy 1 (cut)
    with BuildSketch(Plane(origin=(0, 3, 0), x_dir=(-1, 0, 0), z_dir=(0, 1, 0))):
        with BuildLine():
            Line((31.504298158, 97.342807331), (56.651683754, 72.195421735))
            ThreePointArc((56.651683754, 72.195421735), (56.651683754, 64.227183811), (48.68344583, 64.227183811))
            Line((48.68344583, 64.227183811), (23.536060234, 89.374569407))
            ThreePointArc((23.536060234, 89.374569407), (23.536060234, 97.342807331), (31.504298158, 97.342807331))
        make_face()
    extrude(amount=-MIRROR_15_COPY_1_DEPTH, mode=Mode.SUBTRACT)

    # 草图18 → 切除-拉伸14 (cut, through all)
    with BuildSketch(Plane(origin=(0, 3, 0), x_dir=(1, 0, 0), z_dir=(0, 1, 0))):
        with Locations(Location((-70, 101, 0), (0, 0, 270))):
            Circle(SKETCH_18_R)
    cut_extrude_14 = extrude(amount=-CUT_EXTRUDE_14_DEPTH, mode=Mode.SUBTRACT)

    # 镜向16: 切除-拉伸14 across plane
    add(cut_extrude_14.mirror(Plane(origin=(0, 0, 0), x_dir=(1, 0, 0), z_dir=(0, 0, -1))), mode=Mode.SUBTRACT)

    # 镜向17: 切除-拉伸14 across plane
    add(cut_extrude_14.mirror(Plane(origin=(0, 0, 0), x_dir=(0, 0, 1), z_dir=(1, 0, 0))), mode=Mode.SUBTRACT)

    # 镜向17 copy 1 sketch → 镜向17 copy 1 (cut, through all)
    with BuildSketch(Plane(origin=(0, 3, 0), x_dir=(-1, 0, 0), z_dir=(0, 1, 0))):
        with Locations(Location((-70, 101, 0), (0, 0, 270))):
            Circle(MIRROR_17_COPY_1_SKETCH_R)
    extrude(amount=-MIRROR_17_COPY_1_DEPTH, mode=Mode.SUBTRACT)

    # 草图19 → 切除-拉伸15 (cut, through all)
    with BuildSketch(Plane(origin=(0, 3, 0), x_dir=(1, 0, 0), z_dir=(0, 1, 0))):
        with BuildLine():
            Line((119.033986781, -231.502066126), (58.059204776, -231.502066126))
            ThreePointArc((58.059204776, -231.502066126), (49.362812435, -222.805673785), (58.059204776, -214.109281444))
            Line((58.059204776, -214.109281444), (119.033986781, -214.109281444))
            ThreePointArc((119.033986781, -214.109281444), (127.730379122, -222.805673785), (119.033986781, -231.502066126))
        make_face()
    cut_extrude_15 = extrude(amount=-CUT_EXTRUDE_15_DEPTH, mode=Mode.SUBTRACT)

    # 镜向18: 切除-拉伸15 across plane
    add(cut_extrude_15.mirror(Plane(origin=(0, 0, 0), x_dir=(0, 0, 1), z_dir=(1, 0, 0))), mode=Mode.SUBTRACT)

    # 镜向19: 切除-拉伸15 across plane
    add(cut_extrude_15.mirror(Plane(origin=(0, 0, 0), x_dir=(1, 0, 0), z_dir=(0, 0, -1))), mode=Mode.SUBTRACT)

    # 镜向19 copy 1 sketch → 镜向19 copy 1 (cut, through all)
    with BuildSketch(Plane(origin=(0, 3, 0), x_dir=(-1, 0, 0), z_dir=(0, 1, 0))):
        with BuildLine():
            Line((119.033986781, -231.502066126), (58.059204776, -231.502066126))
            ThreePointArc((58.059204776, -231.502066126), (49.362812435, -222.805673785), (58.059204776, -214.109281444))
            Line((58.059204776, -214.109281444), (119.033986781, -214.109281444))
            ThreePointArc((119.033986781, -214.109281444), (127.730379122, -222.805673785), (119.033986781, -231.502066126))
        make_face()
    extrude(amount=-MIRROR_19_COPY_1_DEPTH, mode=Mode.SUBTRACT)

    # 草图20 → 切除-拉伸16 (cut, through all)
    with BuildSketch(Plane.XZ):
        with Locations(Location((-18, -110, 0), (0, 0, 270))):
            Circle(SKETCH_20_R)
    cut_extrude_16 = extrude(amount=-CUT_EXTRUDE_16_DEPTH, mode=Mode.SUBTRACT)

    # 镜向20: 切除-拉伸16 across plane
    add(cut_extrude_16.mirror(Plane(origin=(0, 0, 0), x_dir=(0, 0, 1), z_dir=(1, 0, 0))), mode=Mode.SUBTRACT)

    # 镜向21: 切除-拉伸16 across plane
    add(cut_extrude_16.mirror(Plane(origin=(0, 0, 0), x_dir=(1, 0, 0), z_dir=(0, 0, -1))), mode=Mode.SUBTRACT)

    # 镜向21 copy 1 sketch → 镜向21 copy 1 (cut, through all)
    with BuildSketch(Plane(origin=(0, 0, 0), x_dir=(-1, 0, 0), z_dir=(0, -1, 0))):
        with Locations(Location((-18, -110, 0), (0, 0, 270))):
            Circle(MIRROR_21_COPY_1_SKETCH_R)
    extrude(amount=-MIRROR_21_COPY_1_DEPTH, mode=Mode.SUBTRACT)

    # 草图21 → 切除-拉伸17 (cut, through all)
    with BuildSketch(Plane(origin=(0, 0, 0), x_dir=(-1, 0, 0), z_dir=(0, -1, 0))):
        with Locations(Location((110, 18, 0), (0, 0, 90))):
            Circle(SKETCH_21_R)
    cut_extrude_17 = extrude(amount=-CUT_EXTRUDE_17_DEPTH, mode=Mode.SUBTRACT)

    # 镜向22: 切除-拉伸17 across plane
    add(cut_extrude_17.mirror(Plane(origin=(0, 0, 0), x_dir=(1, 0, 0), z_dir=(0, 0, -1))), mode=Mode.SUBTRACT)

    # 镜向23: 切除-拉伸17 across plane
    add(cut_extrude_17.mirror(Plane(origin=(0, 0, 0), x_dir=(0, 0, 1), z_dir=(1, 0, 0))), mode=Mode.SUBTRACT)

    # 镜向23 copy 1 sketch → 镜向23 copy 1 (cut, through all)
    with BuildSketch(Plane.XZ):
        with Locations(Location((110, 18, 0), (0, 0, 90))):
            Circle(MIRROR_23_COPY_1_SKETCH_R)
    extrude(amount=-MIRROR_23_COPY_1_DEPTH, mode=Mode.SUBTRACT)


solid = part.part
